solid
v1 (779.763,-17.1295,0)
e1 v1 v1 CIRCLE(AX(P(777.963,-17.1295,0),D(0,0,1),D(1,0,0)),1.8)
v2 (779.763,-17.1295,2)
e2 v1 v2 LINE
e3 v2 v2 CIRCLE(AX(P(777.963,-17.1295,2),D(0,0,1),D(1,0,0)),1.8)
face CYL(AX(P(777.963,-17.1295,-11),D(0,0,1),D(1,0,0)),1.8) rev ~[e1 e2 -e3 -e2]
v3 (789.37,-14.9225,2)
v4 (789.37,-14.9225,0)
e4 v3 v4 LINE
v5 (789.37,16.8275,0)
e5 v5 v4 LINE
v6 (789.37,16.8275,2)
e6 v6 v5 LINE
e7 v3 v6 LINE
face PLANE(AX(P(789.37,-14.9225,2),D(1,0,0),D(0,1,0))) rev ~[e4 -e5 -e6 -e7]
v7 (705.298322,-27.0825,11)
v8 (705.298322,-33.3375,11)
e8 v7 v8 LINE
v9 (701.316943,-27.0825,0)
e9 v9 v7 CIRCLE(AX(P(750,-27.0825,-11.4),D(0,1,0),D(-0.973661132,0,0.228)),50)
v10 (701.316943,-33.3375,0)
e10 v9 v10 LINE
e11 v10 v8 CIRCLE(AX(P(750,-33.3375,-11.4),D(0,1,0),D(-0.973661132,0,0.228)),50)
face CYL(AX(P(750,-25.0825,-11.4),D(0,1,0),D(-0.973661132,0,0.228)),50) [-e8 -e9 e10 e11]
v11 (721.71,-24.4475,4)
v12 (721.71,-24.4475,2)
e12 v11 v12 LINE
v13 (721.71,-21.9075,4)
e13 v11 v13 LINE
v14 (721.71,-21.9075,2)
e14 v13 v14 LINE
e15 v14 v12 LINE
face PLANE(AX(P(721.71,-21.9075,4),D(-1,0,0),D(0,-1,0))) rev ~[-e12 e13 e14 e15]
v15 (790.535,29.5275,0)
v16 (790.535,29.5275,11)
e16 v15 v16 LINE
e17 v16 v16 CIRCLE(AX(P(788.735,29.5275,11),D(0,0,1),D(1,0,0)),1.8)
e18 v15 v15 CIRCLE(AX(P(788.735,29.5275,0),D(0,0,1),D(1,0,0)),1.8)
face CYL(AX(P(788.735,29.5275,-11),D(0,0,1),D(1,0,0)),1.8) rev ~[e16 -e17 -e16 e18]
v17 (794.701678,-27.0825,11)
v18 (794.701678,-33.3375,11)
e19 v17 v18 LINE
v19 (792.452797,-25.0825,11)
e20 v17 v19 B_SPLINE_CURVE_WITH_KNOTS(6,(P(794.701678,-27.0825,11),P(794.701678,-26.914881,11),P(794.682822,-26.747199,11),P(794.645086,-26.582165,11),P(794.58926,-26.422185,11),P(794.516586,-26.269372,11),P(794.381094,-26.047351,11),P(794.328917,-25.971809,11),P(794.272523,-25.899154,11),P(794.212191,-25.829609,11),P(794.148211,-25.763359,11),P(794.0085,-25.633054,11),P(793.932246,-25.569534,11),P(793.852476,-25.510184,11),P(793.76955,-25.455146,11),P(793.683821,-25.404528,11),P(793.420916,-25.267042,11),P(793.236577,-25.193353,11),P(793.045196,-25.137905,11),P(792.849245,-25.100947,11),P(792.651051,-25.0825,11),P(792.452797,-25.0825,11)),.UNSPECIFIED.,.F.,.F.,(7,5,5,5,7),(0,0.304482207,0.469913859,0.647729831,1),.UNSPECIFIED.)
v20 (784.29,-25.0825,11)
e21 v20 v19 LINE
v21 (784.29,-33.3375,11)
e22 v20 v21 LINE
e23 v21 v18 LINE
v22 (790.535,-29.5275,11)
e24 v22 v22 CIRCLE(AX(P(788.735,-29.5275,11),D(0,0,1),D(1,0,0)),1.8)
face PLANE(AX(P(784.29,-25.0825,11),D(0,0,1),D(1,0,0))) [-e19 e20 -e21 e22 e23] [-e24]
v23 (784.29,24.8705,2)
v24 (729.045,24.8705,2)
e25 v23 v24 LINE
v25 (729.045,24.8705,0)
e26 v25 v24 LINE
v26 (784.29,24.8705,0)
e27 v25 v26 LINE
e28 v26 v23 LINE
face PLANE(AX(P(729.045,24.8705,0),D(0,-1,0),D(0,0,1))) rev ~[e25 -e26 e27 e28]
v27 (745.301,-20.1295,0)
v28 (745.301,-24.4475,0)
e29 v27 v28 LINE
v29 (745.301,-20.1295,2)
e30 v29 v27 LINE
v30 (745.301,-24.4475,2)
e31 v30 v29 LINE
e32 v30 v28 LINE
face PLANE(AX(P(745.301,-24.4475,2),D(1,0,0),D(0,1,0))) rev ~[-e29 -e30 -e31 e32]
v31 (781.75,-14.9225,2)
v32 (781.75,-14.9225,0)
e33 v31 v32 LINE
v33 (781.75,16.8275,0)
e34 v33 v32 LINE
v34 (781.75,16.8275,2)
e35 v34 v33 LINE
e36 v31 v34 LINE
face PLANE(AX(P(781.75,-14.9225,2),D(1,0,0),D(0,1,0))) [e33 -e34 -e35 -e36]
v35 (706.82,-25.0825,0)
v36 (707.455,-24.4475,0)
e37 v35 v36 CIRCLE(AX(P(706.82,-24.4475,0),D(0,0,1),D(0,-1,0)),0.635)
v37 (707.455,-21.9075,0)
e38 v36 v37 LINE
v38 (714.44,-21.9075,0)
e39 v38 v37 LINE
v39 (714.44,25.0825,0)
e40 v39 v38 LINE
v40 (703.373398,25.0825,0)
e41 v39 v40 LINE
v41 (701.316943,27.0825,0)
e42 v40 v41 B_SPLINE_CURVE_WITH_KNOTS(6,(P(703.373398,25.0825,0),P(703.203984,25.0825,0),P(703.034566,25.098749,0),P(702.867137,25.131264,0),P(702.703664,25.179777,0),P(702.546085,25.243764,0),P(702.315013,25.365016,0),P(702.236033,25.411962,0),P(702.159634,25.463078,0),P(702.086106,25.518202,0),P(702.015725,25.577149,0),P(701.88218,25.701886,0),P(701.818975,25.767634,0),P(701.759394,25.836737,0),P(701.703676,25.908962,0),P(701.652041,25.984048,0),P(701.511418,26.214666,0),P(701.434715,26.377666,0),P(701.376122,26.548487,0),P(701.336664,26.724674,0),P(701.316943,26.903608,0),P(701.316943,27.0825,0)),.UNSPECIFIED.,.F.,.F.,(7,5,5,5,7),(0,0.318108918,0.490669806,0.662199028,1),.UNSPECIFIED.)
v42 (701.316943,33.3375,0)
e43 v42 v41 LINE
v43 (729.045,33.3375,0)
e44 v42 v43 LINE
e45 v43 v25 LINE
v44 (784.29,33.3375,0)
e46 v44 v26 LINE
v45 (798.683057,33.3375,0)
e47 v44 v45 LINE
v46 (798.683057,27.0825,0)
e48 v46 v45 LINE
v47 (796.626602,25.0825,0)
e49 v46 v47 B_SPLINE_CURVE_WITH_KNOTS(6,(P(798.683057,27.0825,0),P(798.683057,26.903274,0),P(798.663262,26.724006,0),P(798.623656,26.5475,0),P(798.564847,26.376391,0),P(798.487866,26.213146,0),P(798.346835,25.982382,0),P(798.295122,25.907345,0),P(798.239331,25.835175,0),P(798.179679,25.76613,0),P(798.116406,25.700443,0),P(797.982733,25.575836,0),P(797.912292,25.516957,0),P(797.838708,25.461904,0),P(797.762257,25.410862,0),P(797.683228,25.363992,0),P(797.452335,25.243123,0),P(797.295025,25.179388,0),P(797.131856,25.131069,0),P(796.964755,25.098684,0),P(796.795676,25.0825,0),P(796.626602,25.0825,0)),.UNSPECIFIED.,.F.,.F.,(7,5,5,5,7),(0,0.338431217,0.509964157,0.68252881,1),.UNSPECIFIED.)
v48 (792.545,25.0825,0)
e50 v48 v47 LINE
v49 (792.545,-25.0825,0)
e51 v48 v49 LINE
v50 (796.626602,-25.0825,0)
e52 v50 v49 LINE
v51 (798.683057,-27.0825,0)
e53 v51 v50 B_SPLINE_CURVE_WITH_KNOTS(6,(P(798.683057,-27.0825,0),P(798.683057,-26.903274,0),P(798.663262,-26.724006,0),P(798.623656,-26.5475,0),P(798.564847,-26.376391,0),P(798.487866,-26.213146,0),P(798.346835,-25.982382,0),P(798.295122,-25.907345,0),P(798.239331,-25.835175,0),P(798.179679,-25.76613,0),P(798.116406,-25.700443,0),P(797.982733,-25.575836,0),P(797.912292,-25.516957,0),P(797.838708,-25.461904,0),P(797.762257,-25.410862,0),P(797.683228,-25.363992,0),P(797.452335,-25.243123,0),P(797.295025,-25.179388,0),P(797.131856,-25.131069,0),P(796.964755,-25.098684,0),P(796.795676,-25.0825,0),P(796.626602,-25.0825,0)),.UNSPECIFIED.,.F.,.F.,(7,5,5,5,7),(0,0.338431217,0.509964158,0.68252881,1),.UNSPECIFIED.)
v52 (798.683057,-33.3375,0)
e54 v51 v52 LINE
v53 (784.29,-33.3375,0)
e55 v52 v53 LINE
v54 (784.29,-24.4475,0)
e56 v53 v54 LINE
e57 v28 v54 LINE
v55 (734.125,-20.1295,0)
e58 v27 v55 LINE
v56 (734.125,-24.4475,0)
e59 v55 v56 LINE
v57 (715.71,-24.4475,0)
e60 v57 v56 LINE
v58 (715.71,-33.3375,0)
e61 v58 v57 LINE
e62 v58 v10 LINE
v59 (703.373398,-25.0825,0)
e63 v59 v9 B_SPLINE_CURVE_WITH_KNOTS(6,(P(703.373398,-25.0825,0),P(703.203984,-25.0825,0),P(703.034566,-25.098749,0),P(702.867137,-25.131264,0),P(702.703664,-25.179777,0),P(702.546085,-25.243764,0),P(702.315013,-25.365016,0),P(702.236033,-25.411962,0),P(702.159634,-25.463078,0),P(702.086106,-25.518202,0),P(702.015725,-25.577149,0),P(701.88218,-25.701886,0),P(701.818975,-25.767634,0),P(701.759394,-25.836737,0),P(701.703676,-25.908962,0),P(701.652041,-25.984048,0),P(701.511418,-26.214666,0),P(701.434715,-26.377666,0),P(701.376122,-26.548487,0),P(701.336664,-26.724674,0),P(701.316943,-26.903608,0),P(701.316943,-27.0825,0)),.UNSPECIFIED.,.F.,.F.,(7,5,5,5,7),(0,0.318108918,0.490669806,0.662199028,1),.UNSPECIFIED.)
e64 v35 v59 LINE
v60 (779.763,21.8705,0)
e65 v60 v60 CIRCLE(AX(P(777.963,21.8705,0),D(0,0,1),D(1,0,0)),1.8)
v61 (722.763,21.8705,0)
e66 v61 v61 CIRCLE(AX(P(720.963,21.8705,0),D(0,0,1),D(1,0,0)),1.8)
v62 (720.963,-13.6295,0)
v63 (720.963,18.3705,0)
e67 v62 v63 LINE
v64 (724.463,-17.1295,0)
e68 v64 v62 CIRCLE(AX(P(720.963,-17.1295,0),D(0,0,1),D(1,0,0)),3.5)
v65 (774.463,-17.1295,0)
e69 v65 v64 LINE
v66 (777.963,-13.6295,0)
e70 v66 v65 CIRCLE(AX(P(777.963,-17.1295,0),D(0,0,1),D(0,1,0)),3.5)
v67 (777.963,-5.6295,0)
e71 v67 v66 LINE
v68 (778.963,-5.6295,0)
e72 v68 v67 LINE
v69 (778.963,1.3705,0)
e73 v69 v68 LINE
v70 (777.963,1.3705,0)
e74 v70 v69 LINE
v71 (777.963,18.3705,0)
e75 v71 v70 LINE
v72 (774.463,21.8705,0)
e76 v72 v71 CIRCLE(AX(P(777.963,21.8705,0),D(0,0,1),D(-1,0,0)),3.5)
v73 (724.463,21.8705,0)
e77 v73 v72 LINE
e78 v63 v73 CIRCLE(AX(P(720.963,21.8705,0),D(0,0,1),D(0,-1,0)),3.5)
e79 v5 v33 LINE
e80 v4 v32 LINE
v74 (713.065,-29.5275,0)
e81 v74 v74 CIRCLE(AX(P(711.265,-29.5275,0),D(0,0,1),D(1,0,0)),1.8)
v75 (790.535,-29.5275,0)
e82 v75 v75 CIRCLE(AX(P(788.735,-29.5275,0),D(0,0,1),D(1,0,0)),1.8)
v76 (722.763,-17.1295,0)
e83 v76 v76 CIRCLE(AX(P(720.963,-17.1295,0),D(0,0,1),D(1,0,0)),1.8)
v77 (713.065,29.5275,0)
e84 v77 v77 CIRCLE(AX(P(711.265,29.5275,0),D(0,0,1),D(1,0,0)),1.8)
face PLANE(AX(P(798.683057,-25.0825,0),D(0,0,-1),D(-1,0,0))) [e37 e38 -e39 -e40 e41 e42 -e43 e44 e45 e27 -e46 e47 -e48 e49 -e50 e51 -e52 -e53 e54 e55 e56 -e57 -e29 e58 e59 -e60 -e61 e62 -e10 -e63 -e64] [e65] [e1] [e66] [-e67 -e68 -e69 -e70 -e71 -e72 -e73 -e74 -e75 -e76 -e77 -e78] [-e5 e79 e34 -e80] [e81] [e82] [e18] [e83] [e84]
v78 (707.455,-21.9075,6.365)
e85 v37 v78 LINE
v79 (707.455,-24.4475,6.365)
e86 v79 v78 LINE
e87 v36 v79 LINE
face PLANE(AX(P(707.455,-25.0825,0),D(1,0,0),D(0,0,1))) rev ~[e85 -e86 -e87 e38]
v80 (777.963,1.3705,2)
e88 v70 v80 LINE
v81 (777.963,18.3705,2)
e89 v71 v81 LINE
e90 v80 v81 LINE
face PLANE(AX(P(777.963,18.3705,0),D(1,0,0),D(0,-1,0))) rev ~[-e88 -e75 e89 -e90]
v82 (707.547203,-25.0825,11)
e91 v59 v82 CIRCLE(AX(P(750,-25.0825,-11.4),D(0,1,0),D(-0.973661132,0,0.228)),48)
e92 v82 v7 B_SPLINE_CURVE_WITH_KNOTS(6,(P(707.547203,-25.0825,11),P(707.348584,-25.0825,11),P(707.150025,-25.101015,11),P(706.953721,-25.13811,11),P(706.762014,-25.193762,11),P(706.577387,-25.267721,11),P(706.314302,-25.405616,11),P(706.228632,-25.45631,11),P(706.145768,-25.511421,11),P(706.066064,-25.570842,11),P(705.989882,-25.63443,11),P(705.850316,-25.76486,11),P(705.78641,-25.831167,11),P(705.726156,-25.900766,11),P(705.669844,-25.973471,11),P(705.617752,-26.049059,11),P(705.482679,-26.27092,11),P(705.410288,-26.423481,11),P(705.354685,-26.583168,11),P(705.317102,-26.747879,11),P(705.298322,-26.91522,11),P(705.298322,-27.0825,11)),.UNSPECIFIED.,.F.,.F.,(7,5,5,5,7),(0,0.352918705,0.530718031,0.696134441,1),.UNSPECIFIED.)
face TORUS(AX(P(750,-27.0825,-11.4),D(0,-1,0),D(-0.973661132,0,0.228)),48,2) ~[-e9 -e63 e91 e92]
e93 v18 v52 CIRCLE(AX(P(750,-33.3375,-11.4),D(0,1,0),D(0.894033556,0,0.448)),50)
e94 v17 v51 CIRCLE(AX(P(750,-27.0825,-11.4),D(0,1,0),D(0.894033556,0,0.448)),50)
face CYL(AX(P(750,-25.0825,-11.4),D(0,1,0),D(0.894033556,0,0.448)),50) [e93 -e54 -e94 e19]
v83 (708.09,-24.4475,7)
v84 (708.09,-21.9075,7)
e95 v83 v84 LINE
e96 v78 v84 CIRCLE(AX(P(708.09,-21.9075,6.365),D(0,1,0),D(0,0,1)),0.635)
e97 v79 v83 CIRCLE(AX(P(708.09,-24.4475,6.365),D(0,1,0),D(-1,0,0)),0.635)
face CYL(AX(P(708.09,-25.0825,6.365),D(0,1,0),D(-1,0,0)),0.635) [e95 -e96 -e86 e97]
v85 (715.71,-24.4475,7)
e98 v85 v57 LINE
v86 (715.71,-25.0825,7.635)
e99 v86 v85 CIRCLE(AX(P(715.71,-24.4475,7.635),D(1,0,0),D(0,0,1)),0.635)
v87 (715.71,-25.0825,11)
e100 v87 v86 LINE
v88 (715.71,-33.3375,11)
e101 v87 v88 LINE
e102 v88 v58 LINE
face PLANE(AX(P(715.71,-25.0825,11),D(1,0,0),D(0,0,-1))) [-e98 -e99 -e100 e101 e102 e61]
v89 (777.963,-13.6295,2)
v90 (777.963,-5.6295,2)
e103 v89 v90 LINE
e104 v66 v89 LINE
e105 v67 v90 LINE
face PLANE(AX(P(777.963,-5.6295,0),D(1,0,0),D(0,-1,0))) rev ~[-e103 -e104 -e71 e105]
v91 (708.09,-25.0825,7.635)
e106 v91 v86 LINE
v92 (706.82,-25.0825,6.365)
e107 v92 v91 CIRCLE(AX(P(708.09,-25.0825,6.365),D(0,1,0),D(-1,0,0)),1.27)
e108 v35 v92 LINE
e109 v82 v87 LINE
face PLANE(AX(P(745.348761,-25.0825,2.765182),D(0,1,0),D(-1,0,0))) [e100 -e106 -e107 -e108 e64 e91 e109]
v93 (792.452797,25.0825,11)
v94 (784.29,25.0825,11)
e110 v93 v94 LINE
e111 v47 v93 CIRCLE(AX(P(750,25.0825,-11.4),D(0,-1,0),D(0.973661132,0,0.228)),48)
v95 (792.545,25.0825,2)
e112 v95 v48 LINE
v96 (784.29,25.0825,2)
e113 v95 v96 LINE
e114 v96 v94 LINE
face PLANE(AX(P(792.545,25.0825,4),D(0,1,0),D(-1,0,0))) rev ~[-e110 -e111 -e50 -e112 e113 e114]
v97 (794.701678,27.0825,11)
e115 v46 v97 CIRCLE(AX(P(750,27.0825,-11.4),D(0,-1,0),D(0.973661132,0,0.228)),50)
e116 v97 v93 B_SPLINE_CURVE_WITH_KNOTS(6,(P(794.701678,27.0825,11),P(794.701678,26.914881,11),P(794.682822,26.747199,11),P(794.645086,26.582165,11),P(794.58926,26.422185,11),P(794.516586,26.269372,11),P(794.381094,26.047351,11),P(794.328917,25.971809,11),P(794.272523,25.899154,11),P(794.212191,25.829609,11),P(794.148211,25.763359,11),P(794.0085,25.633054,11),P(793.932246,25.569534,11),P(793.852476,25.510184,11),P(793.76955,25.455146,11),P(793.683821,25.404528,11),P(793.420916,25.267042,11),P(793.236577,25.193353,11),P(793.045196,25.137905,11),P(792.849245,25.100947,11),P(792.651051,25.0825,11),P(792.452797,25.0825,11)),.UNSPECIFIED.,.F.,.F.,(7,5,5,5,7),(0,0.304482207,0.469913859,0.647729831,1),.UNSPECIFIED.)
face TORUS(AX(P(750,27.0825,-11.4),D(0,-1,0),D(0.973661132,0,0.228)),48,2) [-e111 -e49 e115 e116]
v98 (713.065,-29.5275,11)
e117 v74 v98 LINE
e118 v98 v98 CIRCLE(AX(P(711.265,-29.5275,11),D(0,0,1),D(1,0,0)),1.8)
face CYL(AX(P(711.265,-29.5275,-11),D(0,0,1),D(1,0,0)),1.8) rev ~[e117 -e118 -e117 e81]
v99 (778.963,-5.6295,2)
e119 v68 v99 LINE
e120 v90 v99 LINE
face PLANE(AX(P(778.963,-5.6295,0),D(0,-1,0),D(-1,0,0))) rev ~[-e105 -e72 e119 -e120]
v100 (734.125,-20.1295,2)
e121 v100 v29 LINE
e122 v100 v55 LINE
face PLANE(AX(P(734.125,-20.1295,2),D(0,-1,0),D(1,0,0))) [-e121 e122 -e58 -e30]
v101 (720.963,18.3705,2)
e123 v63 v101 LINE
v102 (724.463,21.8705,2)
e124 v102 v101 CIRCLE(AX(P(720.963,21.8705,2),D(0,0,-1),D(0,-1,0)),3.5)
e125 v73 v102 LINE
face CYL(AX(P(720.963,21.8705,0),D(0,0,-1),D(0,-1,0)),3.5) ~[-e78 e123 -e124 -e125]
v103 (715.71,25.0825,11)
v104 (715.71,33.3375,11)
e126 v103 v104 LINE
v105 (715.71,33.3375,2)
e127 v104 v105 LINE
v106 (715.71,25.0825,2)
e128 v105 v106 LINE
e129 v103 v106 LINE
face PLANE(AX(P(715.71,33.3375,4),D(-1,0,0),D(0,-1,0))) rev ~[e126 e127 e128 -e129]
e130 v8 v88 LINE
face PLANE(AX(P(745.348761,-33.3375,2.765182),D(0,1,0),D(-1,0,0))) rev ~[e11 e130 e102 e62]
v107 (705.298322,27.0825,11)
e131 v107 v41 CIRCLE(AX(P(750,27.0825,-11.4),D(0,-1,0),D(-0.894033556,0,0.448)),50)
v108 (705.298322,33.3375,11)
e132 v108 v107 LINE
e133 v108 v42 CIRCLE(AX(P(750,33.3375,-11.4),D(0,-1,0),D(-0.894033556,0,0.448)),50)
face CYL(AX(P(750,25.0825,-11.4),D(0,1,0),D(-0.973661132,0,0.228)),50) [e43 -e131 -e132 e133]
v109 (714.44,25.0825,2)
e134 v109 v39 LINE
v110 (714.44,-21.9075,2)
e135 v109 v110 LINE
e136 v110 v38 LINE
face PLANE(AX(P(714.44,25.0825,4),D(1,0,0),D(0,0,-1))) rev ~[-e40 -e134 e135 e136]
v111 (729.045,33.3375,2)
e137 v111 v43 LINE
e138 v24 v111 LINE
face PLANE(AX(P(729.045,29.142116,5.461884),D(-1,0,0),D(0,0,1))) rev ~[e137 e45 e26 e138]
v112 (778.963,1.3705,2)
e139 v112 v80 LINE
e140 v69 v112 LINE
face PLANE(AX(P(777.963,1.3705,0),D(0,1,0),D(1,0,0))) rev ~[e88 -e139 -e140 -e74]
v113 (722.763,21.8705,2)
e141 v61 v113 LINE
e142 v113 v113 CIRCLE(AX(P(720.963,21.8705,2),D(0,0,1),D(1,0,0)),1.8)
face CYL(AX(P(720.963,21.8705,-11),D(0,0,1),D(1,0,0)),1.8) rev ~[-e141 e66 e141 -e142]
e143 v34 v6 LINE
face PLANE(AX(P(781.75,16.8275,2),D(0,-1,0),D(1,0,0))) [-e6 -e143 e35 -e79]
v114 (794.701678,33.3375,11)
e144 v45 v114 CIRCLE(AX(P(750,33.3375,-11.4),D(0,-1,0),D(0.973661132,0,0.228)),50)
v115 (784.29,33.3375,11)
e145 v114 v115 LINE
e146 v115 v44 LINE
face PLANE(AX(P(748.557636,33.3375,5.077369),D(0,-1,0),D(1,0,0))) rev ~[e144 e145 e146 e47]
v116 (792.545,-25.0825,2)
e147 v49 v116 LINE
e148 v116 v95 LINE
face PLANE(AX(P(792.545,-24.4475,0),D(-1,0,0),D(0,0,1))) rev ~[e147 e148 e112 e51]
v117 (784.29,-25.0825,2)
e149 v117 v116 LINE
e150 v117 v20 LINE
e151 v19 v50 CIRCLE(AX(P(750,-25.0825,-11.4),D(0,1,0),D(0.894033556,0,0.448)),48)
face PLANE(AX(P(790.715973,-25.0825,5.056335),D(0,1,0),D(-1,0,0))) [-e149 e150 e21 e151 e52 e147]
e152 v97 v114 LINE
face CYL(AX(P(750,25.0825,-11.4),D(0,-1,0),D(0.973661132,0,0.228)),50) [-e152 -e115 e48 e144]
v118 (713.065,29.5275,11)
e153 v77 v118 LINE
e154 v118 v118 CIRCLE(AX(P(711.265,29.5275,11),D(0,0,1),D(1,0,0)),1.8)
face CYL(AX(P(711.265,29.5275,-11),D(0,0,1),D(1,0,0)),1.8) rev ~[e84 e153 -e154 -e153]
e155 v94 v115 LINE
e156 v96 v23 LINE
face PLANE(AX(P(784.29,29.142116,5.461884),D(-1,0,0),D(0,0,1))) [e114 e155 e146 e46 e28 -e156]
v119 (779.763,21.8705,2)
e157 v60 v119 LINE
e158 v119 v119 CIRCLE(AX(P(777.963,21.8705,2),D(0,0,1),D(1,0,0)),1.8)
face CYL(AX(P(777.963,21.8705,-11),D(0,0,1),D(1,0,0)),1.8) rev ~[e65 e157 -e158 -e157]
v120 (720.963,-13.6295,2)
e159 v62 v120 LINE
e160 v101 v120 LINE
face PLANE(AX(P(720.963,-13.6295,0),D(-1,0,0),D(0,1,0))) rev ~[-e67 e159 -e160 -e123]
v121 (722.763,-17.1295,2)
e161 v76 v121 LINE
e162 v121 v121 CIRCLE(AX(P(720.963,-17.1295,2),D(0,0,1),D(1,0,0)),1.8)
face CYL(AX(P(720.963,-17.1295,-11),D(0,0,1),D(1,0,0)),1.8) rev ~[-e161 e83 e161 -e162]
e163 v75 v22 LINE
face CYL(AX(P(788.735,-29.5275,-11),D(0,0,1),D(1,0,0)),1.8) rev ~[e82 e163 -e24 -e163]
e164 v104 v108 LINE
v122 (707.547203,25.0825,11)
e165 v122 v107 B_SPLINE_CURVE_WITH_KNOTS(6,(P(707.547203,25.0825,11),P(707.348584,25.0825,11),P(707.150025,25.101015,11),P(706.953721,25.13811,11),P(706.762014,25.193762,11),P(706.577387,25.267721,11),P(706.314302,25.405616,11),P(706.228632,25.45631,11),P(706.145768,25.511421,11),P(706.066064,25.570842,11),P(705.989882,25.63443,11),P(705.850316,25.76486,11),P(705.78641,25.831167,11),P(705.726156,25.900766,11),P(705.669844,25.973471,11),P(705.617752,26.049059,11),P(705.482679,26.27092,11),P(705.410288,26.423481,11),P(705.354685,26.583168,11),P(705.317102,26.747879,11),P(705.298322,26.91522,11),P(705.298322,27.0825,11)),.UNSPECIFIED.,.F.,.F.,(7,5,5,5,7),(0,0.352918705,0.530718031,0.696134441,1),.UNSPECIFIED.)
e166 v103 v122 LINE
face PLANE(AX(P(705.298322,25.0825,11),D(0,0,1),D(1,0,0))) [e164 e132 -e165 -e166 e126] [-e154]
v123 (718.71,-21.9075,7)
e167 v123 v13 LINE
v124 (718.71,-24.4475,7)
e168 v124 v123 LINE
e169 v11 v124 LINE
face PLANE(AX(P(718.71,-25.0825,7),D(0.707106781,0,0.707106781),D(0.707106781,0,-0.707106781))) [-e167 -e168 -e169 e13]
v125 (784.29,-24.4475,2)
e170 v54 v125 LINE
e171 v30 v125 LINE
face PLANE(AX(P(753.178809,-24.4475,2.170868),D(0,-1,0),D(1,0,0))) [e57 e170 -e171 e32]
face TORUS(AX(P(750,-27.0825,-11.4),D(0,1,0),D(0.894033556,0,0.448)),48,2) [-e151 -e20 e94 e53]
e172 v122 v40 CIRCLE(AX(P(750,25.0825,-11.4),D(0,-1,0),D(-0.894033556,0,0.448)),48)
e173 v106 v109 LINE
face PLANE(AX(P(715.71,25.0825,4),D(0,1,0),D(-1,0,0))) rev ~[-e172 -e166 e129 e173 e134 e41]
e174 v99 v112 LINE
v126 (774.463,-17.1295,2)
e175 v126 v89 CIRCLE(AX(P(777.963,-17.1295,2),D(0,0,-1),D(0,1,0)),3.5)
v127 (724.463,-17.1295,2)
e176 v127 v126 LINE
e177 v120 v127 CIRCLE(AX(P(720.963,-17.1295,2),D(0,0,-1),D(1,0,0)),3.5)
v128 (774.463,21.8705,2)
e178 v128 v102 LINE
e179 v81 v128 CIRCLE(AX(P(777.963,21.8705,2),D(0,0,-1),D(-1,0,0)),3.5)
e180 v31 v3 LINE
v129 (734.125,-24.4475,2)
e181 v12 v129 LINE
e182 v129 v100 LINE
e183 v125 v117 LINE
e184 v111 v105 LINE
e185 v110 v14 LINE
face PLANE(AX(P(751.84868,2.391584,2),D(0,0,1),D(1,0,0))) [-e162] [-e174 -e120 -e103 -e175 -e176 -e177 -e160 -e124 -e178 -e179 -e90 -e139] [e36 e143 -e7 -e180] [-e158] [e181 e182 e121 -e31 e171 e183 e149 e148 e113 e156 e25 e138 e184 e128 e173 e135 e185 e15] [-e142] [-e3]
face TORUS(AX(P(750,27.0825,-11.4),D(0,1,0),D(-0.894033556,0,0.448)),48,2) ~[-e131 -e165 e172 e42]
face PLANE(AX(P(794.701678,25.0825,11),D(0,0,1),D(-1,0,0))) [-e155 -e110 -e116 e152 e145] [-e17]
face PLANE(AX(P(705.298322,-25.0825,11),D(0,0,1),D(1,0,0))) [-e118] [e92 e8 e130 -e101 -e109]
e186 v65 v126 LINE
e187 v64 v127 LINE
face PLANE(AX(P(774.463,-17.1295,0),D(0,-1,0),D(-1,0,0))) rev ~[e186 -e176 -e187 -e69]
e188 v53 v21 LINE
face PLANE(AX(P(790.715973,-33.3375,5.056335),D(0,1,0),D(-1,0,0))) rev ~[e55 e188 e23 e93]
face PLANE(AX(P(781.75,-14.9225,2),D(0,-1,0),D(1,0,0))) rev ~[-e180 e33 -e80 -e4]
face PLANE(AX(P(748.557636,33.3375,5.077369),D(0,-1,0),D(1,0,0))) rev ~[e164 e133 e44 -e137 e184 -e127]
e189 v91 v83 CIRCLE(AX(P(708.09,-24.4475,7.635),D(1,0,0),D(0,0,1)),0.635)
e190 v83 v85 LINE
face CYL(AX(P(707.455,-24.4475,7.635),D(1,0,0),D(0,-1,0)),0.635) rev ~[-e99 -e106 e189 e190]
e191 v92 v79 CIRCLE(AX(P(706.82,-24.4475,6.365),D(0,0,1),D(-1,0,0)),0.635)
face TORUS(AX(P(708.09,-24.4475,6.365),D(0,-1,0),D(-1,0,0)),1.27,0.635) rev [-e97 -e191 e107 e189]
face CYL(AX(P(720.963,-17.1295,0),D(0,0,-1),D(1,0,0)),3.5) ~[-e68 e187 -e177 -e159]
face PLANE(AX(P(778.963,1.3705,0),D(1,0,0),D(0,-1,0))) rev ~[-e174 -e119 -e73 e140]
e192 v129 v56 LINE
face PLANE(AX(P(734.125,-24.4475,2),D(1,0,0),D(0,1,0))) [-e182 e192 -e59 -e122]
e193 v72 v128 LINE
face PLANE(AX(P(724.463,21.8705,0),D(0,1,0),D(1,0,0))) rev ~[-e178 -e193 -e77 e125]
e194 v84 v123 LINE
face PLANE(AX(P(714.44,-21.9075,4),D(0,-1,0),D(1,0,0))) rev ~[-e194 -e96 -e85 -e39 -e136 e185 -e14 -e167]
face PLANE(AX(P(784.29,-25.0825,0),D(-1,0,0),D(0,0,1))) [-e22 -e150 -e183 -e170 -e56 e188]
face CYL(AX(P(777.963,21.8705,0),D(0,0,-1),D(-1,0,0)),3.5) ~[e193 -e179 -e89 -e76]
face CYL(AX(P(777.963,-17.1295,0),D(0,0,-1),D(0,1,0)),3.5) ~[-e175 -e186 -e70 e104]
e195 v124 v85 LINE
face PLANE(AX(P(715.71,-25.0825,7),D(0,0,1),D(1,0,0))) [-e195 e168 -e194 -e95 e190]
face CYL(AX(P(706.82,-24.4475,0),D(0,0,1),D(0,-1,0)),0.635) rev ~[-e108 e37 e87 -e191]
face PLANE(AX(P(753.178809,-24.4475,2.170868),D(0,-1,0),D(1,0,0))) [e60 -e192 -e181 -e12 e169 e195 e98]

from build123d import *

# Parameters (mm, degrees)
EXTRUDE_1_DEPTH             = 8.255
EXTRUDE_2_DEPTH             = 50.165
CUT_EXTRUDE_1_DEPTH         = 50.165
EXTRUDE_3_DEPTH             = 8.255
CUT_EXTRUDE_2_DEPTH         = 8.255
CUT_EXTRUDE_3_DEPTH         = 8.255
CUT_EXTRUDE_4_DEPTH         = 55.245
CUT_EXTRUDE_5_DEPTH         = 0.635
CUT_EXTRUDE_6_DEPTH         = 46.99
SKETCH_10_W                 = 8.255
SKETCH_10_H                 = 4
EXTRUDE_4_DEPTH             = 0.635
CUT_EXTRUDE_7_DEPTH         = 2
EXTRUDE_5_DEPTH             = 8.255
SKETCH_13_W                 = 11.176
SKETCH_13_H                 = 4.318
CUT_EXTRUDE_8_DEPTH         = 3
CUT_EXTRUDE_9_DEPTH         = 12
SKETCH_15_W                 = 7.62
SKETCH_15_H                 = 31.75
CUT_EXTRUDE_10_DEPTH        = 3
HOLE_WIZARD_3_6_3_6_1_D     = 3.6
HOLE_WIZARD_3_6_3_6_1_DEPTH = 11
HOLE_WIZARD_3_6_3_6_2_D     = 3.6
HOLE_WIZARD_3_6_3_6_2_DEPTH = 11
FILLET_1_R                  = 0.635
FILLET_2_R                  = 2


with BuildPart() as part:
    # 草图1 → 凸台-拉伸1 (new body)
    with BuildSketch(Plane.XZ.offset(-25.0825)):
        with BuildLine():
            Line((729.045, 11), (729.045, 4))
            Line((729.045, 4), (721.71, 4))
            Line((721.71, 4), (718.71, 7))
            Line((718.71, 7), (715.71, 7))
            Line((715.71, 7), (715.71, 11))
            Line((715.71, 11), (705.298322179, 11))
            ThreePointArc((705.298322179, 11), (702.984819943, 5.616840019), (701.316943399, 0))
            Line((701.316943399, 0), (798.683056601, 0))
            ThreePointArc((798.683056601, 0), (797.015180057, 5.616840019), (794.701677821, 11))
            Line((794.701677821, 11), (729.045, 11))
        make_face()
    extrude(amount=-EXTRUDE_1_DEPTH)

    # 草图2 → 凸台-拉伸2 (add)
    with BuildSketch(Plane.XZ.offset(-25.0825)):
        with BuildLine():
            Line((705.298322179, 11), (715.71, 11))
            Line((715.71, 11), (715.71, 7))
            Line((715.71, 7), (718.71, 7))
            Line((718.71, 7), (721.71, 4))
            Line((721.71, 4), (792.545, 4))
            Line((792.545, 4), (792.545, 0))
            Line((792.545, 0), (701.316943399, 0))
            ThreePointArc((701.316943399, 0), (702.984819943, 5.616840019), (705.298322179, 11))
        make_face()
    extrude(amount=EXTRUDE_2_DEPTH)

    # 草图3 → 切除-拉伸1 (cut)
    with BuildSketch(Plane.XZ.offset(25.0825)):
        with BuildLine():
            Line((701.316943399, 0), (707.455, 0))
            Line((707.455, 0), (707.455, 7))
            Line((707.455, 7), (715.71, 7))
            Line((715.71, 7), (715.71, 11))
            Line((715.71, 11), (705.298322179, 11))
            ThreePointArc((705.298322179, 11), (702.984819943, 5.616840019), (701.316943399, 0))
        make_face()
    extrude(amount=-CUT_EXTRUDE_1_DEPTH, mode=Mode.SUBTRACT)

    # 草图4 → 凸台-拉伸3 (add)
    with BuildSketch(Plane.XZ.offset(25.0825)):
        with BuildLine():
            Line((705.298322179, 11), (715.71, 11))
            Line((715.71, 11), (715.71, 7))
            Line((715.71, 7), (718.71, 7))
            Line((718.71, 7), (721.71, 4))
            Line((721.71, 4), (792.545, 4))
            Line((792.545, 4), (792.545, 0))
            Line((792.545, 0), (701.316943399, 0))
            ThreePointArc((701.316943399, 0), (702.984819943, 5.616840019), (705.298322179, 11))
        make_face()
    extrude(amount=EXTRUDE_3_DEPTH)

    # 草图5 → 切除-拉伸2 (cut)
    with BuildSketch(Plane(origin=(0, 33.3375, 0), x_dir=(-1, 0, 0), z_dir=(0, 1, 0))):
        Polygon((-721.71, 4), (-715.71, 4), (-715.71, 7), (-718.71, 7), align=None)
    extrude(amount=-CUT_EXTRUDE_2_DEPTH, mode=Mode.SUBTRACT)

    # 草图6 → 切除-拉伸3 (cut)
    with BuildSketch(Plane.XZ.offset(33.3375)):
        Polygon((715.71, 0), (792.545, 0), (792.545, 4), (721.71, 4), (718.71, 7), (715.71, 7), align=None)
    extrude(amount=-CUT_EXTRUDE_3_DEPTH, mode=Mode.SUBTRACT)

    # 草图7 → 切除-拉伸4 (cut)
    with BuildSketch(Plane.ZY.offset(-729.045)):
        Polygon((0, 33.3375), (0, 24.8705), (4, 24.8705), (4, 25.0825), (11, 25.0825), (11, 33.3375), align=None)
    extrude(amount=-CUT_EXTRUDE_4_DEPTH, mode=Mode.SUBTRACT)

    # 草图8 → 切除-拉伸5 (cut)
    with BuildSketch(Plane.XZ.offset(25.0825)):
        Polygon((715.71, 0), (792.545, 0), (792.545, 4), (721.71, 4), (718.71, 7), (715.71, 7), align=None)
    extrude(amount=-CUT_EXTRUDE_5_DEPTH, mode=Mode.SUBTRACT)

    # 草图9 → 切除-拉伸6 (cut)
    with BuildSketch(Plane(origin=(0, 25.0825, 0), x_dir=(-1, 0, 0), z_dir=(0, 1, 0))):
        Polygon((-721.71, 4), (-714.44, 4), (-714.44, 0), (-707.455, 0), (-707.455, 7), (-718.71, 7), align=None)
    extrude(amount=-CUT_EXTRUDE_6_DEPTH, mode=Mode.SUBTRACT)

    # 草图10 → 凸台-拉伸4 (add)
    with BuildSketch(Plane.XZ.offset(24.4475)):
        with Locations((788.4175, 2)):
            Rectangle(SKETCH_10_W, SKETCH_10_H)
    extrude(amount=EXTRUDE_4_DEPTH)

    # 草图11 → 切除-拉伸7 (cut)
    with BuildSketch(Plane.XY.offset(4)):
        Polygon((784.29, 25.0825), (784.29, 24.8705), (729.045, 24.8705), (729.045, 33.3375), (715.71, 33.3375), (715.71, 25.0825), (714.44, 25.0825), (714.44, -21.9075), (721.71, -21.9075), (721.71, -24.4475), (784.29, -24.4475), (784.29, -25.0825), (792.545, -25.0825), (792.545, 25.0825), align=None)
    extrude(amount=-CUT_EXTRUDE_7_DEPTH, mode=Mode.SUBTRACT)

    # 草图12 → 凸台-拉伸5 (add)
    with BuildSketch(Plane.XZ.offset(25.0825)):
        with BuildLine():
            Line((798.683056601, 0), (784.29, 0))
            Line((784.29, 0), (784.29, 11))
            Line((784.29, 11), (794.701677821, 11))
            ThreePointArc((794.701677821, 11), (797.015180057, 5.616840019), (798.683056601, 0))
        make_face()
    extrude(amount=EXTRUDE_5_DEPTH)

    # 草图13 → 切除-拉伸8 (cut, through all)
    with BuildSketch(Plane.XY.offset(2)):
        with Locations((739.713, -22.2885)):
            Rectangle(SKETCH_13_W, SKETCH_13_H)
    extrude(amount=-CUT_EXTRUDE_8_DEPTH, mode=Mode.SUBTRACT)

    # 草图14 → 切除-拉伸9 (cut, through all)
    with BuildSketch(Plane(origin=(0, 0, 0), x_dir=(-1, 0, 0), z_dir=(0, 0, -1))):
        with BuildLine():
            Line((-777.963, 18.3705), (-777.963, 1.3705))
            Line((-777.963, 1.3705), (-778.963, 1.3705))
            Line((-778.963, 1.3705), (-778.963, -5.6295))
            Line((-778.963, -5.6295), (-777.963, -5.6295))
            Line((-777.963, -5.6295), (-777.963, -13.6295))
            ThreePointArc((-777.963, -13.6295), (-775.488126266, -14.654626266), (-774.463, -17.1295))
            Line((-774.463, -17.1295), (-724.463, -17.1295))
            ThreePointArc((-724.463, -17.1295), (-723.437873734, -14.654626266), (-720.963, -13.6295))
            Line((-720.963, -13.6295), (-720.963, 18.3705))
            ThreePointArc((-720.963, 18.3705), (-723.437873734, 19.395626266), (-724.463, 21.8705))
            Line((-724.463, 21.8705), (-774.463, 21.8705))
            ThreePointArc((-774.463, 21.8705), (-775.488126266, 19.395626266), (-777.963, 18.3705))
        make_face()
    extrude(amount=-CUT_EXTRUDE_9_DEPTH, mode=Mode.SUBTRACT)

    # 草图15 → 切除-拉伸10 (cut, through all)
    with BuildSketch(Plane.XY.offset(2)):
        with Locations((785.56, 0.9525)):
            Rectangle(SKETCH_15_W, SKETCH_15_H)
    extrude(amount=-CUT_EXTRUDE_10_DEPTH, mode=Mode.SUBTRACT)

    # Ø3.6 (3.6) 直径孔1
    with Locations(Plane(origin=(0, 0, 0), x_dir=(-1, 0, 0), z_dir=(0, 0, -1))):
        with Locations((-711.265, 29.5275), (-788.735, 29.5275), (-788.735, -29.5275), (-711.265, -29.5275)):
            Hole(HOLE_WIZARD_3_6_3_6_1_D / 2, depth=HOLE_WIZARD_3_6_3_6_1_DEPTH)

    # Ø3.6 (3.6) 直径孔2
    with Locations(Plane(origin=(0, 0, 0), x_dir=(-1, 0, 0), z_dir=(0, 0, -1))):
        with Locations((-720.963, -17.1295), (-720.963, 21.8705), (-777.963, 21.8705), (-777.963, -17.1295)):
            Hole(HOLE_WIZARD_3_6_3_6_2_D / 2, depth=HOLE_WIZARD_3_6_3_6_2_DEPTH)

    # 圆角1
    fillet_1_edges = [part.edges().sort_by_distance(p)[0] for p in [
        (711.5825, -25.0825, 7),
        (707.455, -23.495, 7),
        (707.455, -25.0825, 3.5),
    ]]
    fillet(fillet_1_edges, radius=FILLET_1_R)

    # 圆角2
    fillet_2_edges = [part.edges().sort_by_distance(p)[0] for p in [
        (797.015180057, -25.0825, 5.616840019),
        (702.984819943, 25.0825, 5.616840019),
        (702.984819943, -25.0825, 5.616840019),
        (797.015180057, 25.0825, 5.616840019),
    ]]
    fillet(fillet_2_edges, radius=FILLET_2_R)


solid = part.part
